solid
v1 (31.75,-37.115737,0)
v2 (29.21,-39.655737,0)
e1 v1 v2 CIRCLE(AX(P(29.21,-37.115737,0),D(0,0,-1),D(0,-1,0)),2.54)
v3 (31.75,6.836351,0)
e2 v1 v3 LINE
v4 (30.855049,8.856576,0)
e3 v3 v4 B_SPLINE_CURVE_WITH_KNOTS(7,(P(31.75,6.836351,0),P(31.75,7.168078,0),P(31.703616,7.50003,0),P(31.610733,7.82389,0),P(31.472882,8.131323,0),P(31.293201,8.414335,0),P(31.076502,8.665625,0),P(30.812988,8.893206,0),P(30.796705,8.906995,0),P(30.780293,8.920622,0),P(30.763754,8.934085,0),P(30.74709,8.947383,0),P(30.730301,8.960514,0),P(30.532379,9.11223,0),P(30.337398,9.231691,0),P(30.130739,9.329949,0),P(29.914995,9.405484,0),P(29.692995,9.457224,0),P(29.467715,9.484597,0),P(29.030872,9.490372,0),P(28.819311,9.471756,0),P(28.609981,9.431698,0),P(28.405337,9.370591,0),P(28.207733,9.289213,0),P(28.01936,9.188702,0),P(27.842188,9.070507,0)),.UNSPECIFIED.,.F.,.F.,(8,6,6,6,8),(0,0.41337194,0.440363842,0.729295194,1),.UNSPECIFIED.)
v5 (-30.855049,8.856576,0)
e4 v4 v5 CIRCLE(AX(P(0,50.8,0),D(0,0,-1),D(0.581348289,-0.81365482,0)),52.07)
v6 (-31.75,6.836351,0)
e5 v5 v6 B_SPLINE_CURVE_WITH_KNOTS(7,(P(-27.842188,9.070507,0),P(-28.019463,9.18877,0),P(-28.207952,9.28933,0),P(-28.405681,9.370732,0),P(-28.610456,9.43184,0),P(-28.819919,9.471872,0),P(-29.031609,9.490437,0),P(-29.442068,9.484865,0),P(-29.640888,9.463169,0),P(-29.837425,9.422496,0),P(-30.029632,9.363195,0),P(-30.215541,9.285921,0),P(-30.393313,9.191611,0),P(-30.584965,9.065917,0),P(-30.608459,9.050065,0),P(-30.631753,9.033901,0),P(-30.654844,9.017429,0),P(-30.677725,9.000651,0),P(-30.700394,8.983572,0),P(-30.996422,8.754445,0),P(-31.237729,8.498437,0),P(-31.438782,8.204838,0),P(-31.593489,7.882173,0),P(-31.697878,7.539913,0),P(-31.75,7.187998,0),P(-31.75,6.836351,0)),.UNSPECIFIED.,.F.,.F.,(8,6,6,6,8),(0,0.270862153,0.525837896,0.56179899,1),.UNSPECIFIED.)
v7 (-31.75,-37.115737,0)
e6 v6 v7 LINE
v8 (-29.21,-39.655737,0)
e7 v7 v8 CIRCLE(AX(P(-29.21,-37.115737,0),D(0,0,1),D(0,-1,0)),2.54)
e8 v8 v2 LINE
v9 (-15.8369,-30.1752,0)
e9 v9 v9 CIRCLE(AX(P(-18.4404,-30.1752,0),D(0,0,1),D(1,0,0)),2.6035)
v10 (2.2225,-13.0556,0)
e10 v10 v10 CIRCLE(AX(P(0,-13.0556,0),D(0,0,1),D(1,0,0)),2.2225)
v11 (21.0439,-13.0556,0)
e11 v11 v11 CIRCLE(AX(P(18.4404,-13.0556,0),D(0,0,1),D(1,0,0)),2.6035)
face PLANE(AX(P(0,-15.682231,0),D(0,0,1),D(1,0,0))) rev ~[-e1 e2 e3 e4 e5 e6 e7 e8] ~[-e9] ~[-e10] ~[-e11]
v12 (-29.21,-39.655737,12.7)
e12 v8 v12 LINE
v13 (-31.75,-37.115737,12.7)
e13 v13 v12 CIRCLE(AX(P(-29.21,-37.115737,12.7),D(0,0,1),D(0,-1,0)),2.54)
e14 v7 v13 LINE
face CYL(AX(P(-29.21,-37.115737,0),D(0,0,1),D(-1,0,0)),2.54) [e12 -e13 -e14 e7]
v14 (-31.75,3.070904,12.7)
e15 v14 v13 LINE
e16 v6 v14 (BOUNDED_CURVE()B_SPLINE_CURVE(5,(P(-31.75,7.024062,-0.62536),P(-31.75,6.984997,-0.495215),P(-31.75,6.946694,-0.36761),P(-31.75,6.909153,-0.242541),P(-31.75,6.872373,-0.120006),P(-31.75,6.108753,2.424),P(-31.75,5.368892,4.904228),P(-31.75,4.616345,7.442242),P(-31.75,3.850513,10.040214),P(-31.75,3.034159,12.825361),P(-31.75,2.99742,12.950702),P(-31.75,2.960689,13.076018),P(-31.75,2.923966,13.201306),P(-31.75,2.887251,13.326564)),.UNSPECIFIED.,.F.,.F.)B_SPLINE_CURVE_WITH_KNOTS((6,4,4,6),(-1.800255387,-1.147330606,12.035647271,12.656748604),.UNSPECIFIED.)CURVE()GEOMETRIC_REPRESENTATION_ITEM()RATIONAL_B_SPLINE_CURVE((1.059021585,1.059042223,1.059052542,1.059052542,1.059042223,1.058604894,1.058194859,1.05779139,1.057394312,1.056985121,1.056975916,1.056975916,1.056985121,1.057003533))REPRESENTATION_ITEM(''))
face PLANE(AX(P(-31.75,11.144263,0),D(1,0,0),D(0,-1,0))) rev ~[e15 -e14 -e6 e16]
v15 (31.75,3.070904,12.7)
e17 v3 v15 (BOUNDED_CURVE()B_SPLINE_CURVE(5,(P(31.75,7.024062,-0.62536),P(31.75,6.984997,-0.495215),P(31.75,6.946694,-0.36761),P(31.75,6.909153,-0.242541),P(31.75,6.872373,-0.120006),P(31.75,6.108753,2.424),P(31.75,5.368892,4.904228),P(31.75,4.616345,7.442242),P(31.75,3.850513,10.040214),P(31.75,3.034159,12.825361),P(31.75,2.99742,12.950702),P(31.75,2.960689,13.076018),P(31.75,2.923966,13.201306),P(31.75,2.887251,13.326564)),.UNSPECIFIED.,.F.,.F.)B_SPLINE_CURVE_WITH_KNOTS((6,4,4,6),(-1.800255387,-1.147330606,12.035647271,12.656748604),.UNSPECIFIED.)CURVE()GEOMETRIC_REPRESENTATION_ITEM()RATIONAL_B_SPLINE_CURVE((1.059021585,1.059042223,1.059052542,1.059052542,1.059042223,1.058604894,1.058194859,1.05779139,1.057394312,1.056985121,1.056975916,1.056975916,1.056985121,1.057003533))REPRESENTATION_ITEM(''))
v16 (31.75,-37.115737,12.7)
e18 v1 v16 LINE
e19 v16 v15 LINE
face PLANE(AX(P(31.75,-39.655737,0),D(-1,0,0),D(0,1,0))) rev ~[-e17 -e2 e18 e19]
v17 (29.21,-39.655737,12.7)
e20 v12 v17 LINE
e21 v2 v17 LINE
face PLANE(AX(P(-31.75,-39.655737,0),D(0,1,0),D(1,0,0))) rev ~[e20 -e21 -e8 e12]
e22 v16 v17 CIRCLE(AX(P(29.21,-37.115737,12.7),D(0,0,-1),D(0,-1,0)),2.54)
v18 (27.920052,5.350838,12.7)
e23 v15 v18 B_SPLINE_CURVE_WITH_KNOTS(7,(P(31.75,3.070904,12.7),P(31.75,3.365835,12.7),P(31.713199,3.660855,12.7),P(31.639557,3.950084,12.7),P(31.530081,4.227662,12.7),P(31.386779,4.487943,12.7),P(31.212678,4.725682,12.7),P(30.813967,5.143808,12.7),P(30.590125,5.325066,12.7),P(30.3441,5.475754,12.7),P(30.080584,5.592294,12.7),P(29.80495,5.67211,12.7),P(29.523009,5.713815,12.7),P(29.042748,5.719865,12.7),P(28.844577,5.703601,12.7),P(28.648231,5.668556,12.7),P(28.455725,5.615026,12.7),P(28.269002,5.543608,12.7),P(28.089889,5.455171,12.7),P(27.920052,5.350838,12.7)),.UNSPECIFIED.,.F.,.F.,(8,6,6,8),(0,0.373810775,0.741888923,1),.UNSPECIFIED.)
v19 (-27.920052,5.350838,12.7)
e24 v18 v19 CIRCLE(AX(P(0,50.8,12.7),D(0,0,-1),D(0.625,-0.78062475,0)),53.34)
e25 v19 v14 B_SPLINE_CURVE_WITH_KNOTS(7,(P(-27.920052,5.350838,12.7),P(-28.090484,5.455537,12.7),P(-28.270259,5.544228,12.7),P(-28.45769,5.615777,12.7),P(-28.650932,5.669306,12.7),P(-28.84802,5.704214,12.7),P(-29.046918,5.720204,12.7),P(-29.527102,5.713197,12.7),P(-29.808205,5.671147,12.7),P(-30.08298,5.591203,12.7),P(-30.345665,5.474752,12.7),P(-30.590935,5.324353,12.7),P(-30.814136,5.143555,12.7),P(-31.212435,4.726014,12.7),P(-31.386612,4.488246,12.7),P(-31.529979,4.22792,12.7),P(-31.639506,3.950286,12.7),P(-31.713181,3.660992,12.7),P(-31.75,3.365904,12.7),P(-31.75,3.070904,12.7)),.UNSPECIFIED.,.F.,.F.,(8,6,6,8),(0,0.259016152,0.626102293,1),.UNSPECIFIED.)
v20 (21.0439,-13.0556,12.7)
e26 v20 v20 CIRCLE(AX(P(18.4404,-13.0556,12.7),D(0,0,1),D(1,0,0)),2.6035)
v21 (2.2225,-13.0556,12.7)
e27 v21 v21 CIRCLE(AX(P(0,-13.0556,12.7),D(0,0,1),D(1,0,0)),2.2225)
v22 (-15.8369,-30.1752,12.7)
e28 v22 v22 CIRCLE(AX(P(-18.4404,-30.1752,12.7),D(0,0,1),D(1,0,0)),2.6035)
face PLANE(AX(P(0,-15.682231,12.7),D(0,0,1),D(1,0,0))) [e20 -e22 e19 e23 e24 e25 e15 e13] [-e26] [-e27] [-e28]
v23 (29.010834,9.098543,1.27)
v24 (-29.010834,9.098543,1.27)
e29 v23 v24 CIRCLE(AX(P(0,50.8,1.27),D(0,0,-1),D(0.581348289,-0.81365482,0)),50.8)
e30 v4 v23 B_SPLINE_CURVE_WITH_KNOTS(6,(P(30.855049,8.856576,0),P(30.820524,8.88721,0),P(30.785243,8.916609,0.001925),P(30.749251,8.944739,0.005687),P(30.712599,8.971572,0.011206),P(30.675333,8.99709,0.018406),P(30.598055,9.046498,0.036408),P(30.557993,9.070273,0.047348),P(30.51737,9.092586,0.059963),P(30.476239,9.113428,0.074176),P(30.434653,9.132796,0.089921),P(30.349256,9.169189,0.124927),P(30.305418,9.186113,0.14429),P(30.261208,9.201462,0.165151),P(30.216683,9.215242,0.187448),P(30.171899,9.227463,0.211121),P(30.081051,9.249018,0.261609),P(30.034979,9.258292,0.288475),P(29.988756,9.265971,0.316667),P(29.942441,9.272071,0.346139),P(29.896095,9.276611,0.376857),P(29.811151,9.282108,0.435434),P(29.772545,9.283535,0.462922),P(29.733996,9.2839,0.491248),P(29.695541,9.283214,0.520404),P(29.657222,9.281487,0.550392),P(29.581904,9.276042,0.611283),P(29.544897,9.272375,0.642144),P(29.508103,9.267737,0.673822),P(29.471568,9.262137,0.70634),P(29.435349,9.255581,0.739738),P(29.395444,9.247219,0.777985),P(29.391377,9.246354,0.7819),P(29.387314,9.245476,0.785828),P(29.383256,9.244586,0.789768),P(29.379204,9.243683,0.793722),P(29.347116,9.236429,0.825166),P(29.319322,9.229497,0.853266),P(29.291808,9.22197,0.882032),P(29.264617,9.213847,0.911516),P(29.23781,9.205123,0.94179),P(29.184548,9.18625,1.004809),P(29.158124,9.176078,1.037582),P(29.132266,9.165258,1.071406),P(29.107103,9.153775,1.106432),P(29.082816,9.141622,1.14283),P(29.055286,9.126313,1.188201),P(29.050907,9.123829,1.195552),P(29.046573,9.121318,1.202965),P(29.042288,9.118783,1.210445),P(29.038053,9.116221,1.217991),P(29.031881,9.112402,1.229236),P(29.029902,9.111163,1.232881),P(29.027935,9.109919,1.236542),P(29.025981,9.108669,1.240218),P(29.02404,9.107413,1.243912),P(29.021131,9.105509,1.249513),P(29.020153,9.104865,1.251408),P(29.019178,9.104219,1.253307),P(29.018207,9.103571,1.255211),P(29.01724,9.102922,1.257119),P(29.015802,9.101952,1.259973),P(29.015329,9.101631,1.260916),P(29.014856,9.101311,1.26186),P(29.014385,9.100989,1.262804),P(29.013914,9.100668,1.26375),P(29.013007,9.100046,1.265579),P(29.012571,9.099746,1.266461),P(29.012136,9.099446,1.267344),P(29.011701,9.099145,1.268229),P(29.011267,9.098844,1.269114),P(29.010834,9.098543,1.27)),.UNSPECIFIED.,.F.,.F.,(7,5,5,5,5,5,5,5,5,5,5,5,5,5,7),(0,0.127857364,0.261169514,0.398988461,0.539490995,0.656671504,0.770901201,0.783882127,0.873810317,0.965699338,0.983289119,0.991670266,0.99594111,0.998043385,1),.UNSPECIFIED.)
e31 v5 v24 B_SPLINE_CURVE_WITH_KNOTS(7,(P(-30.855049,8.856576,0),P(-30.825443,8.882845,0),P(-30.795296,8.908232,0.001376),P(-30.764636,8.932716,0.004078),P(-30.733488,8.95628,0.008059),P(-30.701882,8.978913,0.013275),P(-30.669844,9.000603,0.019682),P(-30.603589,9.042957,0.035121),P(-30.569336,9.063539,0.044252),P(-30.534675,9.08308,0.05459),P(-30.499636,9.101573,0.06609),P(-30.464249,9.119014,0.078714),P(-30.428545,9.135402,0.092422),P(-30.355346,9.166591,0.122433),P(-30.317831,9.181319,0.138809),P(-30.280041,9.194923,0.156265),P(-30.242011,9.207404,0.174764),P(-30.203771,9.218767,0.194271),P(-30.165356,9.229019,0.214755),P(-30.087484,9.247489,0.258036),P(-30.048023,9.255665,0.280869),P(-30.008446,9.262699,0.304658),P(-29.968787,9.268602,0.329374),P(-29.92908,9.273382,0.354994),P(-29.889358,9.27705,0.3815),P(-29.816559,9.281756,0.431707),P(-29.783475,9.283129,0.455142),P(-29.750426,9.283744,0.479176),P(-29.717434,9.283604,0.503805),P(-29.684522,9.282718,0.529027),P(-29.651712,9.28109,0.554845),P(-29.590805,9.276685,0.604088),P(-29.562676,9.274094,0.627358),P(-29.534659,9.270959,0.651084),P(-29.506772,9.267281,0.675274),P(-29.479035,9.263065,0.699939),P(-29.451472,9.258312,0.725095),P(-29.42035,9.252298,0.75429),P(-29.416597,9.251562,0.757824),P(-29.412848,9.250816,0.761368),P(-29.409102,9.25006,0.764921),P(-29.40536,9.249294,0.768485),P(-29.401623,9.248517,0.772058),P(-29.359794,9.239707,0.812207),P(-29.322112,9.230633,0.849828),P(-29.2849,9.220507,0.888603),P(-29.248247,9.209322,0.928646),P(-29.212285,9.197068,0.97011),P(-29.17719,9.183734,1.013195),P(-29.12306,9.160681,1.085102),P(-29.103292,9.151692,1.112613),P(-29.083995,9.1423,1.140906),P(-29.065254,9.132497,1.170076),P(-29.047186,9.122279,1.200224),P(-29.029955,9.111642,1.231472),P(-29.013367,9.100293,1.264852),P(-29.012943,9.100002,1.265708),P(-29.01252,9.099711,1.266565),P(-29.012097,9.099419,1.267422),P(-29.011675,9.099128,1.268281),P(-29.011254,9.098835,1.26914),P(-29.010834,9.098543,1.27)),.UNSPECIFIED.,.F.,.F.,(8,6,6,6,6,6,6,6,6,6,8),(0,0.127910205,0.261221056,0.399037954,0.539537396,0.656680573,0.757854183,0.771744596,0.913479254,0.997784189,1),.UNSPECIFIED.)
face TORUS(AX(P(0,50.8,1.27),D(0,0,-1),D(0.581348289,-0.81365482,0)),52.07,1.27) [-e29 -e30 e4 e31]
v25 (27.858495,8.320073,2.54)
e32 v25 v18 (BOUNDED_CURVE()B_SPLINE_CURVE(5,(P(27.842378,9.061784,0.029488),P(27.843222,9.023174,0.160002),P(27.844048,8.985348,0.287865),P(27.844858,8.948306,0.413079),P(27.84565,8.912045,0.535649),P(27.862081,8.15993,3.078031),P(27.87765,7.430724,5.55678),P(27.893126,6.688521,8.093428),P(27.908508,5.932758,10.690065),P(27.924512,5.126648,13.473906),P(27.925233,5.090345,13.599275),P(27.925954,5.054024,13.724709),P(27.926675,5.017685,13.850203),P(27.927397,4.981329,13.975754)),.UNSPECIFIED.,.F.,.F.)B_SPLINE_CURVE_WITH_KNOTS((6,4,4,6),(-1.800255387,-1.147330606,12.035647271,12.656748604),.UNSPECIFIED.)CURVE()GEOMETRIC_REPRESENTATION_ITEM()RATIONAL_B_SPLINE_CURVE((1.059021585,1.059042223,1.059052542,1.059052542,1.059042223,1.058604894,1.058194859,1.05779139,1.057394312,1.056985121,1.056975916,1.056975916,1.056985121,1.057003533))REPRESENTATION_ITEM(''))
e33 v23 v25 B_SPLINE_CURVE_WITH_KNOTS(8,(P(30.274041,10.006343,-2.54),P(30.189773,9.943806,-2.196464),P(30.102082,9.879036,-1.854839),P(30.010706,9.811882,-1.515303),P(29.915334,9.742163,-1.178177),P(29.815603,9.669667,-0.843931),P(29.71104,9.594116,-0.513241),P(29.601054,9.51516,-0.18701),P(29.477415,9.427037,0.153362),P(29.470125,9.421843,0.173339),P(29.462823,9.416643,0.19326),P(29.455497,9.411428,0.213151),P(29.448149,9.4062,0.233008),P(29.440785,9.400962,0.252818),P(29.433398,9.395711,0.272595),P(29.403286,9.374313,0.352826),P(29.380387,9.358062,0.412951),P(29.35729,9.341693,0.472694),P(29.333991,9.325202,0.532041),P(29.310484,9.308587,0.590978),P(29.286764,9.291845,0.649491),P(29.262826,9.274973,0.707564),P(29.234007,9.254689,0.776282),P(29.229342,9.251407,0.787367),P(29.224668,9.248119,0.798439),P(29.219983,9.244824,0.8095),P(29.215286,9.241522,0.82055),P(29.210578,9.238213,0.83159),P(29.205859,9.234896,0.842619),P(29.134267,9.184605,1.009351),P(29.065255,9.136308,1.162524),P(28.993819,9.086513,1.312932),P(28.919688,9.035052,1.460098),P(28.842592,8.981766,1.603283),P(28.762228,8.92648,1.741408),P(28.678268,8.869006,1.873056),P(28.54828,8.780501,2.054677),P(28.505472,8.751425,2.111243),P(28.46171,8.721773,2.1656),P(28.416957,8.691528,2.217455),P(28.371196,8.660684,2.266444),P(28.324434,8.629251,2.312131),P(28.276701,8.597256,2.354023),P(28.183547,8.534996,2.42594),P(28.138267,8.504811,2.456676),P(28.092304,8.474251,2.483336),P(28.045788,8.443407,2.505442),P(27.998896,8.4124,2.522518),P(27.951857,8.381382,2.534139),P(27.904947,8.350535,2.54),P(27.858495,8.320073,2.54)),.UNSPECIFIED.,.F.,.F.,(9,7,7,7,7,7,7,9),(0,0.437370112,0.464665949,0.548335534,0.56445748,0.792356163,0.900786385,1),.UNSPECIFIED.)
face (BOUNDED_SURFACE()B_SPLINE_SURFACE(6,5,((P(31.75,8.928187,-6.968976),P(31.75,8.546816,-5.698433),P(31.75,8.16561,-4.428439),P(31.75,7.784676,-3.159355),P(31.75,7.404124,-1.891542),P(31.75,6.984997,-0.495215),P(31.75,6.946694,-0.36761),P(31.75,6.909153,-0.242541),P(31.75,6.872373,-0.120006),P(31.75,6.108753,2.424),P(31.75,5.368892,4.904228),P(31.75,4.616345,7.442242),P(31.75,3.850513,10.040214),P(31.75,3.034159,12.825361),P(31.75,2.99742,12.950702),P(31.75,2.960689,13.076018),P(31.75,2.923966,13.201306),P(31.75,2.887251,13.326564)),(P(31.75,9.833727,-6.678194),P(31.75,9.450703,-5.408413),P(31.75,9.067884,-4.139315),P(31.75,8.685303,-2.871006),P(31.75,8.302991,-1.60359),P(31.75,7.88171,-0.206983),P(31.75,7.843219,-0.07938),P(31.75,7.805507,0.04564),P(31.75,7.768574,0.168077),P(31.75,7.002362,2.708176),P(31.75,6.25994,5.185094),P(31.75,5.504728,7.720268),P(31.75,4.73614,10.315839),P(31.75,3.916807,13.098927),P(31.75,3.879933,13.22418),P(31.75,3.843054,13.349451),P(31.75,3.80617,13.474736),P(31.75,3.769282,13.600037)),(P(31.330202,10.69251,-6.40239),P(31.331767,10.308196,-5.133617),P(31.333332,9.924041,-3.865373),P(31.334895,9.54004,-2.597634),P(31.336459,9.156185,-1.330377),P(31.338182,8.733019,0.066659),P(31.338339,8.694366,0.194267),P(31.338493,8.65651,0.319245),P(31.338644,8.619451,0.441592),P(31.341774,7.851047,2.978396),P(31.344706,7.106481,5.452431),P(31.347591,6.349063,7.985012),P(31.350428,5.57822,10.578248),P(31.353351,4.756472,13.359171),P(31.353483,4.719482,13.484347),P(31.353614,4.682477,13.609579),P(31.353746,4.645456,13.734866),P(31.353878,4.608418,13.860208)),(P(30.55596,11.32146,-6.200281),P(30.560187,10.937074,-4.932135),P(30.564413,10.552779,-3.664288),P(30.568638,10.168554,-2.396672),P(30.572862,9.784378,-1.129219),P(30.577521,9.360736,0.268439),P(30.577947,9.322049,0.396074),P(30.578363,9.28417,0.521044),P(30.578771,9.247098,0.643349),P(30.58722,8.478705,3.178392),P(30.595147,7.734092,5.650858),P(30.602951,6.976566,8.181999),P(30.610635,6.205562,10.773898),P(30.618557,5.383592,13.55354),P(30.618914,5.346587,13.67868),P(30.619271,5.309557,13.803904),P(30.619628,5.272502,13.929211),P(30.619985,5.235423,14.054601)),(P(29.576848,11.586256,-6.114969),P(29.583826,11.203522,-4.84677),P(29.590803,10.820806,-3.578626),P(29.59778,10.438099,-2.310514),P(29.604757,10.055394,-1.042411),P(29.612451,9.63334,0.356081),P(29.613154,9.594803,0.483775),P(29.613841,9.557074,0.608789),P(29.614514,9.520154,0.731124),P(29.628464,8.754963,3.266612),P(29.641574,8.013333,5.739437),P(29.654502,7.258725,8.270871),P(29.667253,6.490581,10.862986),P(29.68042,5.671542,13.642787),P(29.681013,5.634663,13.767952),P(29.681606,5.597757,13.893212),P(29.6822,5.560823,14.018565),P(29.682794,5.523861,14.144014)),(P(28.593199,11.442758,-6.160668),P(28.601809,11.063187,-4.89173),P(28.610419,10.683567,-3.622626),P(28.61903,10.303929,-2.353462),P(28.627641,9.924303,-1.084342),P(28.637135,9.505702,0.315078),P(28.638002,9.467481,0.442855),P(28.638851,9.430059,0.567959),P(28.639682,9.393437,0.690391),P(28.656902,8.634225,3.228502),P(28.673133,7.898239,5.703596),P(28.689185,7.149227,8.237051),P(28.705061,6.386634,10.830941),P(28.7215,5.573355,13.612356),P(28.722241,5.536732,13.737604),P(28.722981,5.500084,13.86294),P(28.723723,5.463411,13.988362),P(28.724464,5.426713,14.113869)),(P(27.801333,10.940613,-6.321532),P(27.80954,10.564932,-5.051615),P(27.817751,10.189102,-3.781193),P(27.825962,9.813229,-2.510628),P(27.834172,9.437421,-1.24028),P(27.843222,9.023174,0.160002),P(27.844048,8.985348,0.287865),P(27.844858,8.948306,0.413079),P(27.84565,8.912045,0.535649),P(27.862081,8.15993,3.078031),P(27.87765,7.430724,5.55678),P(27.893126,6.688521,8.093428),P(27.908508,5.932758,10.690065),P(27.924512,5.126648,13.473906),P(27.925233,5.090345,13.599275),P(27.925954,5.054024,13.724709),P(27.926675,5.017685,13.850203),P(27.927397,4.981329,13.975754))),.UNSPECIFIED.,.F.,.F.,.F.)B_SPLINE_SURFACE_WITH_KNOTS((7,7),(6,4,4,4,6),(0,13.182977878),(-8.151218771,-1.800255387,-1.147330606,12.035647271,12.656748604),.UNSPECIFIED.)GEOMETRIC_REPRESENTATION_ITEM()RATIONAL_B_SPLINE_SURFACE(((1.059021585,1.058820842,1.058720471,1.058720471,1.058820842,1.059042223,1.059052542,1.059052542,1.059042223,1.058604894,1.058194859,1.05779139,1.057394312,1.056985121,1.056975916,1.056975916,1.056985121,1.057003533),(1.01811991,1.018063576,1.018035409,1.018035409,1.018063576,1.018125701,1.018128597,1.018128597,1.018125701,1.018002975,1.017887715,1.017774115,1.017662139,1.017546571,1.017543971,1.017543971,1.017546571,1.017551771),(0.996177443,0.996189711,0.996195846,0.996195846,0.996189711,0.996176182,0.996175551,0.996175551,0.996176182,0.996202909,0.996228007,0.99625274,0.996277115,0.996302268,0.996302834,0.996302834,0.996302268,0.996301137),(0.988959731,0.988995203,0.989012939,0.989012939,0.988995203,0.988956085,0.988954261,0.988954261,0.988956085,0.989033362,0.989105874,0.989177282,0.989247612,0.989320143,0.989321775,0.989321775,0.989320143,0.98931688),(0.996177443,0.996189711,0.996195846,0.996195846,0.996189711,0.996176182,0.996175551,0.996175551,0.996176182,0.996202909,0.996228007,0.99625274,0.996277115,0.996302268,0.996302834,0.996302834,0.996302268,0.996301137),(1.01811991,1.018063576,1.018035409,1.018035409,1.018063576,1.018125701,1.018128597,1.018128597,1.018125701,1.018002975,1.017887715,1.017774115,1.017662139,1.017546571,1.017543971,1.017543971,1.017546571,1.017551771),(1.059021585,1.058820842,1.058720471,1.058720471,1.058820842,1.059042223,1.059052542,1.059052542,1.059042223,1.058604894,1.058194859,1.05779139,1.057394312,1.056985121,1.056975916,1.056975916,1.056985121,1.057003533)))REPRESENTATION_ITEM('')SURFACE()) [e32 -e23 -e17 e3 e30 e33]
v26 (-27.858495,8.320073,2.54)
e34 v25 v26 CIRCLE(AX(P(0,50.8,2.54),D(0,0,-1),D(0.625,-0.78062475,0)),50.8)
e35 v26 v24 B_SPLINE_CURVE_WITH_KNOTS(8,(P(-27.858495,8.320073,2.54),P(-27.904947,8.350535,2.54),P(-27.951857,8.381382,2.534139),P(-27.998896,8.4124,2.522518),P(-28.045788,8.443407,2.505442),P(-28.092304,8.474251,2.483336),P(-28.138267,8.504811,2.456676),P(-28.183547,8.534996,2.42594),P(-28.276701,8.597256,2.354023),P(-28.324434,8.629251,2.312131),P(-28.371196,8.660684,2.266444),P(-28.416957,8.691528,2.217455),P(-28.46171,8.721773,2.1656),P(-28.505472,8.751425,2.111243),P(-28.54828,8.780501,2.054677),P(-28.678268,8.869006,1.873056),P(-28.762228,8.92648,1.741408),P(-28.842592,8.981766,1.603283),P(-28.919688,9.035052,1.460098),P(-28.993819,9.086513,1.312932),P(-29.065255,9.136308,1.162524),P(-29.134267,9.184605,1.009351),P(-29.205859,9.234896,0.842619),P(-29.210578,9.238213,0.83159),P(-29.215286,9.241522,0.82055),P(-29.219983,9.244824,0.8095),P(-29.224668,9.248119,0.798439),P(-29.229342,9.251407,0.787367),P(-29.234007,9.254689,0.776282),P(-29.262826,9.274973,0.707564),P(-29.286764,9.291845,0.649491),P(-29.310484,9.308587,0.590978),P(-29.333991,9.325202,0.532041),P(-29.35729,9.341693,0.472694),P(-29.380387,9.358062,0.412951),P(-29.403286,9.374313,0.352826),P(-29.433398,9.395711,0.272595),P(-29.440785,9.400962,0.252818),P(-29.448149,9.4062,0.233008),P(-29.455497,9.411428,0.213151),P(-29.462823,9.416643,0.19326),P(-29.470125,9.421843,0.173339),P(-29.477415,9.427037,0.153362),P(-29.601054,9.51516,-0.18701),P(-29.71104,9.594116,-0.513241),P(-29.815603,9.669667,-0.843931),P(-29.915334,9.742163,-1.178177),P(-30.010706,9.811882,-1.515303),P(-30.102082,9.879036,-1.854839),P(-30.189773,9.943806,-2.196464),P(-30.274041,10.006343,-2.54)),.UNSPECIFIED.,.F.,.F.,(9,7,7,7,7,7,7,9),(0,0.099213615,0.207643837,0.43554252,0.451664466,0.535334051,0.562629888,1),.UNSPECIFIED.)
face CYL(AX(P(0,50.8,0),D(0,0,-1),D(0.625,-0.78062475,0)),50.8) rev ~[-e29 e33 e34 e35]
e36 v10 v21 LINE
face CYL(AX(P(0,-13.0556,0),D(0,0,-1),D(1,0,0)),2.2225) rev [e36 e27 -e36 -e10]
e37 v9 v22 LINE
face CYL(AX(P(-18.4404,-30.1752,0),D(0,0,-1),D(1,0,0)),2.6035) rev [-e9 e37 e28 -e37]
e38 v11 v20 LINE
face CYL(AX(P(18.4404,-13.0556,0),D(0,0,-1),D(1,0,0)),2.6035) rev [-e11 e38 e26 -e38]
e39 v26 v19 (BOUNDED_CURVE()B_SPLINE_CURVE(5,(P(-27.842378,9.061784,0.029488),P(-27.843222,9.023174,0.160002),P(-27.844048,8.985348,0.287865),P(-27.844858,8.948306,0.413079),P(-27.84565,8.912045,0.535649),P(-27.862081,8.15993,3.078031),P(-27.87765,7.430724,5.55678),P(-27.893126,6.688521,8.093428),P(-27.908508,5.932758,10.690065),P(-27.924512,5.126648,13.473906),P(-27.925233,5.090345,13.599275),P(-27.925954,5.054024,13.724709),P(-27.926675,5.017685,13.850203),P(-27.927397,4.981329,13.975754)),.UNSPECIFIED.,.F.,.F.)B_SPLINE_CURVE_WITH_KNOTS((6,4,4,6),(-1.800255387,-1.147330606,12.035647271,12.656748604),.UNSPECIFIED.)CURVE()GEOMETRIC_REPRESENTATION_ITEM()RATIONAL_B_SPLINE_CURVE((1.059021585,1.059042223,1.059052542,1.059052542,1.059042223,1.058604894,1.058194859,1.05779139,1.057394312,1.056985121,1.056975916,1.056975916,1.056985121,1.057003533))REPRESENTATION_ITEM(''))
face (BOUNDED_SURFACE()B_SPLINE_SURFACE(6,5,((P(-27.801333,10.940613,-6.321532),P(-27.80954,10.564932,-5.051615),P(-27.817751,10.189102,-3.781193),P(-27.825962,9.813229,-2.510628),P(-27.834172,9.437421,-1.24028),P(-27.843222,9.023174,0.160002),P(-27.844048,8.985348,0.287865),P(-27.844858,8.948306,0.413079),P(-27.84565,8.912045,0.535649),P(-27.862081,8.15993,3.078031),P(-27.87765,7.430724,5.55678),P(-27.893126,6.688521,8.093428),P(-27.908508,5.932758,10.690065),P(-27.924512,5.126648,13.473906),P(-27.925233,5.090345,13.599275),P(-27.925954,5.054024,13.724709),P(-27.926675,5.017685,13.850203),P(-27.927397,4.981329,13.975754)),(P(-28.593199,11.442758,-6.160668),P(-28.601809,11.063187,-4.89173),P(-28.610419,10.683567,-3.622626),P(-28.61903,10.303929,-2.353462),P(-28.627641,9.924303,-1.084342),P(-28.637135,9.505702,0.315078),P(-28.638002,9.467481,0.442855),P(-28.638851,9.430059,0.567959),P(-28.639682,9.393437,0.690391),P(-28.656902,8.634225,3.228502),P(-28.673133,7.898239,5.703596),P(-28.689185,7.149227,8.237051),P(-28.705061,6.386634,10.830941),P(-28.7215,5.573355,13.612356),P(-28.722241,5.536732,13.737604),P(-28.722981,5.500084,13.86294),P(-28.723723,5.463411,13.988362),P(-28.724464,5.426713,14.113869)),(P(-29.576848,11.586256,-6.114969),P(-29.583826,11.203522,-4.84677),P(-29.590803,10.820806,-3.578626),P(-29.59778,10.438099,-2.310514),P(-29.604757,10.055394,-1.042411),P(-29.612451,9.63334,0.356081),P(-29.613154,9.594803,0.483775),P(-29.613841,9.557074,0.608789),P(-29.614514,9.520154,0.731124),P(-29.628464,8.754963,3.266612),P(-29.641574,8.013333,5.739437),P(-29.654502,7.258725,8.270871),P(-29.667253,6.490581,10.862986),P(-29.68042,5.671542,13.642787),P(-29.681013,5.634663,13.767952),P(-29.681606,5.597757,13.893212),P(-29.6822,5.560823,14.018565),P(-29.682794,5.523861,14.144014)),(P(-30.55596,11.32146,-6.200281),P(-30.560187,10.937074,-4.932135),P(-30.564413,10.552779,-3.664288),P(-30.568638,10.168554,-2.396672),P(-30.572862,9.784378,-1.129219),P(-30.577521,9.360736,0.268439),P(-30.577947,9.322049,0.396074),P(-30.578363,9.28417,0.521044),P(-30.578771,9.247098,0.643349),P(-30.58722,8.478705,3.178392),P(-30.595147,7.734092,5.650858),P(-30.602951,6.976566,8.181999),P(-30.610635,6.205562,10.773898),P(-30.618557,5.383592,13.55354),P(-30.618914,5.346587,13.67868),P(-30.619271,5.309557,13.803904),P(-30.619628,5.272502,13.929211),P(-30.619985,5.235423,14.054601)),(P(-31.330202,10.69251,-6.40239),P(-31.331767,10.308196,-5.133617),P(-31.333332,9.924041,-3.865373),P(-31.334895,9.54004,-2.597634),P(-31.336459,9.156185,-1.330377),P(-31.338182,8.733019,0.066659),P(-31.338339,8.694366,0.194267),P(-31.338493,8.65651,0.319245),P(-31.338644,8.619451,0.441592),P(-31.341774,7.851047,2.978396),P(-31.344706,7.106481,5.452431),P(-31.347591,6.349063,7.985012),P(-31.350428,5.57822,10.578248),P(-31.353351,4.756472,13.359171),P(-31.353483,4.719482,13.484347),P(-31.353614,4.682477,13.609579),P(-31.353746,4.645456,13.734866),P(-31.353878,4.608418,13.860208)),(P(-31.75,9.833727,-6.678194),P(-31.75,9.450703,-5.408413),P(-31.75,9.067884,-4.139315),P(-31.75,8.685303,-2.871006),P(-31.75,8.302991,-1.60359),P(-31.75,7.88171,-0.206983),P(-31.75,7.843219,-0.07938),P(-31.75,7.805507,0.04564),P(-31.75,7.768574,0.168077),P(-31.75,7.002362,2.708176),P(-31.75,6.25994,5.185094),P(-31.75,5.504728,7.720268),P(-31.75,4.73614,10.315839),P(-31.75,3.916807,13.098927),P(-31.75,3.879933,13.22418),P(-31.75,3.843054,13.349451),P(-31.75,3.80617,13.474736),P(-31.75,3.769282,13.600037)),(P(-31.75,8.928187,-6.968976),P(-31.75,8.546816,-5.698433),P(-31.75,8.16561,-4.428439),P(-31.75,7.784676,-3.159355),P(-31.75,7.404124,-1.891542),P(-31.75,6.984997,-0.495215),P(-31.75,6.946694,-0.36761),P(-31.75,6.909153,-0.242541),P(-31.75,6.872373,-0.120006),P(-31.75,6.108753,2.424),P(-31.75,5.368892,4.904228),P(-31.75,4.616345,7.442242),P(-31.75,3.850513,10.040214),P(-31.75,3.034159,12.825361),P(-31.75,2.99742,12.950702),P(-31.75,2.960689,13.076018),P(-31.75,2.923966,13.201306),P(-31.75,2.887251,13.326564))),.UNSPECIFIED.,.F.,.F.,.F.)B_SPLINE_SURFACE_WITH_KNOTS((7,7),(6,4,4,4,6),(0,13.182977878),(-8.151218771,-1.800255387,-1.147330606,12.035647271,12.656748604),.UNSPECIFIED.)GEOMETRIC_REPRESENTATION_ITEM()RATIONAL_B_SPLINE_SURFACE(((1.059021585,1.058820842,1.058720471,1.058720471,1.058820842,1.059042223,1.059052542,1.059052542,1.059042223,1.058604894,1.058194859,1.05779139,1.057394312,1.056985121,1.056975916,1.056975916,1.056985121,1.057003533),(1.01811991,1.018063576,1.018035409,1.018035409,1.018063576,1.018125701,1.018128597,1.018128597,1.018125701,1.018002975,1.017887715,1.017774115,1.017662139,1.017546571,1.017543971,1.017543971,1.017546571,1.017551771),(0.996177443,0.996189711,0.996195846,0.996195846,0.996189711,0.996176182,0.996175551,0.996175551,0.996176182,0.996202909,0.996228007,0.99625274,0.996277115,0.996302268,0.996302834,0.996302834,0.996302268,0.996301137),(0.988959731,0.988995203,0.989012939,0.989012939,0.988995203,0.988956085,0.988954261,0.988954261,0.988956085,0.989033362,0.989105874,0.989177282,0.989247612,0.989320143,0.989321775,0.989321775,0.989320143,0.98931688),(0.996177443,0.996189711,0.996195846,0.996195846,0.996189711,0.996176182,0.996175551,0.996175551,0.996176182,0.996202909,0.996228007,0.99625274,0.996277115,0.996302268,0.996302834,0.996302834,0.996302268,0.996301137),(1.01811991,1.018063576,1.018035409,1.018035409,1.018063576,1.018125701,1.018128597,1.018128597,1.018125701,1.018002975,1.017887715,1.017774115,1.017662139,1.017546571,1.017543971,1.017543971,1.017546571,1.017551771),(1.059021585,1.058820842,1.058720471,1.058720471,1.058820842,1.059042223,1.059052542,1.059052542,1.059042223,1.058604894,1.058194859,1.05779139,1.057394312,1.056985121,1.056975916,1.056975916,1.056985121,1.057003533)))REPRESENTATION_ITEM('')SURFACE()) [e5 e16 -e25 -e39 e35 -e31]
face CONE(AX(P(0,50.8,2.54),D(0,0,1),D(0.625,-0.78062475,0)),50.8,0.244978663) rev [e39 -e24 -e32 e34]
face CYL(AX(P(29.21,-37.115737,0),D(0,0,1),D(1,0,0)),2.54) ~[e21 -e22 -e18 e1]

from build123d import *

# Parameters (mm, degrees)
F0_R     = 2.6035
F0_R_2   = 2.2225
F1_DEPTH = 12.7
F2_SIZE2 = 2.54
F2_SIZE  = 10.16
F3_R     = 2.54
F4_R     = 2.54
F5_R     = 1.27


with BuildPart() as f1:
    # F0 (on Top) → F1 (new body)
    with BuildSketch(Plane.XY):
        with BuildLine():
            ThreePointArc((31.75, 11.1442627102), (0, 0), (-31.75, 11.1442627102))
            Line((-31.75, 11.1442627102), (-31.75, -39.6557372898))
            Line((-31.75, -39.6557372898), (31.75, -39.6557372898))
            Line((31.75, -39.6557372898), (31.75, 11.1442627102))
        make_face()
        with Locations((-18.4404, -30.1752)):
            Circle(F0_R, mode=Mode.SUBTRACT)
        with Locations((0, -13.0556)):
            Circle(F0_R_2, mode=Mode.SUBTRACT)
        with Locations((18.4404, -13.0556)):
            Circle(F0_R, mode=Mode.SUBTRACT)
    extrude(amount=F1_DEPTH)

    # F2
    f2_edges = [f1.edges().sort_by_distance(p)[0] for p in [
        (0, 0, 12.7),
    ]]
    f2_side = f1.faces().sort_by_distance((0, 0, 6.35))[0]
    chamfer(f2_edges, length=F2_SIZE, length2=F2_SIZE2, reference=f2_side)

    # F3
    f3_edges = [f1.edges().sort_by_distance(p)[0] for p in [
        (-31.75, 9.530934, 7.616675),
        (31.75, 9.530934, 7.616675),
    ]]
    fillet(f3_edges, radius=F3_R)

    # F4
    f4_edges = [f1.edges().sort_by_distance(p)[0] for p in [
        (-31.75, -39.655737, 6.35),
        (31.75, -39.655737, 6.35),
    ]]
    fillet(f4_edges, radius=F4_R)

    # F5
    f5_edges = [f1.edges().sort_by_distance(p)[0] for p in [
        (0, 0, 0),
    ]]
    fillet(f5_edges, radius=F5_R)


solid = f1.part
